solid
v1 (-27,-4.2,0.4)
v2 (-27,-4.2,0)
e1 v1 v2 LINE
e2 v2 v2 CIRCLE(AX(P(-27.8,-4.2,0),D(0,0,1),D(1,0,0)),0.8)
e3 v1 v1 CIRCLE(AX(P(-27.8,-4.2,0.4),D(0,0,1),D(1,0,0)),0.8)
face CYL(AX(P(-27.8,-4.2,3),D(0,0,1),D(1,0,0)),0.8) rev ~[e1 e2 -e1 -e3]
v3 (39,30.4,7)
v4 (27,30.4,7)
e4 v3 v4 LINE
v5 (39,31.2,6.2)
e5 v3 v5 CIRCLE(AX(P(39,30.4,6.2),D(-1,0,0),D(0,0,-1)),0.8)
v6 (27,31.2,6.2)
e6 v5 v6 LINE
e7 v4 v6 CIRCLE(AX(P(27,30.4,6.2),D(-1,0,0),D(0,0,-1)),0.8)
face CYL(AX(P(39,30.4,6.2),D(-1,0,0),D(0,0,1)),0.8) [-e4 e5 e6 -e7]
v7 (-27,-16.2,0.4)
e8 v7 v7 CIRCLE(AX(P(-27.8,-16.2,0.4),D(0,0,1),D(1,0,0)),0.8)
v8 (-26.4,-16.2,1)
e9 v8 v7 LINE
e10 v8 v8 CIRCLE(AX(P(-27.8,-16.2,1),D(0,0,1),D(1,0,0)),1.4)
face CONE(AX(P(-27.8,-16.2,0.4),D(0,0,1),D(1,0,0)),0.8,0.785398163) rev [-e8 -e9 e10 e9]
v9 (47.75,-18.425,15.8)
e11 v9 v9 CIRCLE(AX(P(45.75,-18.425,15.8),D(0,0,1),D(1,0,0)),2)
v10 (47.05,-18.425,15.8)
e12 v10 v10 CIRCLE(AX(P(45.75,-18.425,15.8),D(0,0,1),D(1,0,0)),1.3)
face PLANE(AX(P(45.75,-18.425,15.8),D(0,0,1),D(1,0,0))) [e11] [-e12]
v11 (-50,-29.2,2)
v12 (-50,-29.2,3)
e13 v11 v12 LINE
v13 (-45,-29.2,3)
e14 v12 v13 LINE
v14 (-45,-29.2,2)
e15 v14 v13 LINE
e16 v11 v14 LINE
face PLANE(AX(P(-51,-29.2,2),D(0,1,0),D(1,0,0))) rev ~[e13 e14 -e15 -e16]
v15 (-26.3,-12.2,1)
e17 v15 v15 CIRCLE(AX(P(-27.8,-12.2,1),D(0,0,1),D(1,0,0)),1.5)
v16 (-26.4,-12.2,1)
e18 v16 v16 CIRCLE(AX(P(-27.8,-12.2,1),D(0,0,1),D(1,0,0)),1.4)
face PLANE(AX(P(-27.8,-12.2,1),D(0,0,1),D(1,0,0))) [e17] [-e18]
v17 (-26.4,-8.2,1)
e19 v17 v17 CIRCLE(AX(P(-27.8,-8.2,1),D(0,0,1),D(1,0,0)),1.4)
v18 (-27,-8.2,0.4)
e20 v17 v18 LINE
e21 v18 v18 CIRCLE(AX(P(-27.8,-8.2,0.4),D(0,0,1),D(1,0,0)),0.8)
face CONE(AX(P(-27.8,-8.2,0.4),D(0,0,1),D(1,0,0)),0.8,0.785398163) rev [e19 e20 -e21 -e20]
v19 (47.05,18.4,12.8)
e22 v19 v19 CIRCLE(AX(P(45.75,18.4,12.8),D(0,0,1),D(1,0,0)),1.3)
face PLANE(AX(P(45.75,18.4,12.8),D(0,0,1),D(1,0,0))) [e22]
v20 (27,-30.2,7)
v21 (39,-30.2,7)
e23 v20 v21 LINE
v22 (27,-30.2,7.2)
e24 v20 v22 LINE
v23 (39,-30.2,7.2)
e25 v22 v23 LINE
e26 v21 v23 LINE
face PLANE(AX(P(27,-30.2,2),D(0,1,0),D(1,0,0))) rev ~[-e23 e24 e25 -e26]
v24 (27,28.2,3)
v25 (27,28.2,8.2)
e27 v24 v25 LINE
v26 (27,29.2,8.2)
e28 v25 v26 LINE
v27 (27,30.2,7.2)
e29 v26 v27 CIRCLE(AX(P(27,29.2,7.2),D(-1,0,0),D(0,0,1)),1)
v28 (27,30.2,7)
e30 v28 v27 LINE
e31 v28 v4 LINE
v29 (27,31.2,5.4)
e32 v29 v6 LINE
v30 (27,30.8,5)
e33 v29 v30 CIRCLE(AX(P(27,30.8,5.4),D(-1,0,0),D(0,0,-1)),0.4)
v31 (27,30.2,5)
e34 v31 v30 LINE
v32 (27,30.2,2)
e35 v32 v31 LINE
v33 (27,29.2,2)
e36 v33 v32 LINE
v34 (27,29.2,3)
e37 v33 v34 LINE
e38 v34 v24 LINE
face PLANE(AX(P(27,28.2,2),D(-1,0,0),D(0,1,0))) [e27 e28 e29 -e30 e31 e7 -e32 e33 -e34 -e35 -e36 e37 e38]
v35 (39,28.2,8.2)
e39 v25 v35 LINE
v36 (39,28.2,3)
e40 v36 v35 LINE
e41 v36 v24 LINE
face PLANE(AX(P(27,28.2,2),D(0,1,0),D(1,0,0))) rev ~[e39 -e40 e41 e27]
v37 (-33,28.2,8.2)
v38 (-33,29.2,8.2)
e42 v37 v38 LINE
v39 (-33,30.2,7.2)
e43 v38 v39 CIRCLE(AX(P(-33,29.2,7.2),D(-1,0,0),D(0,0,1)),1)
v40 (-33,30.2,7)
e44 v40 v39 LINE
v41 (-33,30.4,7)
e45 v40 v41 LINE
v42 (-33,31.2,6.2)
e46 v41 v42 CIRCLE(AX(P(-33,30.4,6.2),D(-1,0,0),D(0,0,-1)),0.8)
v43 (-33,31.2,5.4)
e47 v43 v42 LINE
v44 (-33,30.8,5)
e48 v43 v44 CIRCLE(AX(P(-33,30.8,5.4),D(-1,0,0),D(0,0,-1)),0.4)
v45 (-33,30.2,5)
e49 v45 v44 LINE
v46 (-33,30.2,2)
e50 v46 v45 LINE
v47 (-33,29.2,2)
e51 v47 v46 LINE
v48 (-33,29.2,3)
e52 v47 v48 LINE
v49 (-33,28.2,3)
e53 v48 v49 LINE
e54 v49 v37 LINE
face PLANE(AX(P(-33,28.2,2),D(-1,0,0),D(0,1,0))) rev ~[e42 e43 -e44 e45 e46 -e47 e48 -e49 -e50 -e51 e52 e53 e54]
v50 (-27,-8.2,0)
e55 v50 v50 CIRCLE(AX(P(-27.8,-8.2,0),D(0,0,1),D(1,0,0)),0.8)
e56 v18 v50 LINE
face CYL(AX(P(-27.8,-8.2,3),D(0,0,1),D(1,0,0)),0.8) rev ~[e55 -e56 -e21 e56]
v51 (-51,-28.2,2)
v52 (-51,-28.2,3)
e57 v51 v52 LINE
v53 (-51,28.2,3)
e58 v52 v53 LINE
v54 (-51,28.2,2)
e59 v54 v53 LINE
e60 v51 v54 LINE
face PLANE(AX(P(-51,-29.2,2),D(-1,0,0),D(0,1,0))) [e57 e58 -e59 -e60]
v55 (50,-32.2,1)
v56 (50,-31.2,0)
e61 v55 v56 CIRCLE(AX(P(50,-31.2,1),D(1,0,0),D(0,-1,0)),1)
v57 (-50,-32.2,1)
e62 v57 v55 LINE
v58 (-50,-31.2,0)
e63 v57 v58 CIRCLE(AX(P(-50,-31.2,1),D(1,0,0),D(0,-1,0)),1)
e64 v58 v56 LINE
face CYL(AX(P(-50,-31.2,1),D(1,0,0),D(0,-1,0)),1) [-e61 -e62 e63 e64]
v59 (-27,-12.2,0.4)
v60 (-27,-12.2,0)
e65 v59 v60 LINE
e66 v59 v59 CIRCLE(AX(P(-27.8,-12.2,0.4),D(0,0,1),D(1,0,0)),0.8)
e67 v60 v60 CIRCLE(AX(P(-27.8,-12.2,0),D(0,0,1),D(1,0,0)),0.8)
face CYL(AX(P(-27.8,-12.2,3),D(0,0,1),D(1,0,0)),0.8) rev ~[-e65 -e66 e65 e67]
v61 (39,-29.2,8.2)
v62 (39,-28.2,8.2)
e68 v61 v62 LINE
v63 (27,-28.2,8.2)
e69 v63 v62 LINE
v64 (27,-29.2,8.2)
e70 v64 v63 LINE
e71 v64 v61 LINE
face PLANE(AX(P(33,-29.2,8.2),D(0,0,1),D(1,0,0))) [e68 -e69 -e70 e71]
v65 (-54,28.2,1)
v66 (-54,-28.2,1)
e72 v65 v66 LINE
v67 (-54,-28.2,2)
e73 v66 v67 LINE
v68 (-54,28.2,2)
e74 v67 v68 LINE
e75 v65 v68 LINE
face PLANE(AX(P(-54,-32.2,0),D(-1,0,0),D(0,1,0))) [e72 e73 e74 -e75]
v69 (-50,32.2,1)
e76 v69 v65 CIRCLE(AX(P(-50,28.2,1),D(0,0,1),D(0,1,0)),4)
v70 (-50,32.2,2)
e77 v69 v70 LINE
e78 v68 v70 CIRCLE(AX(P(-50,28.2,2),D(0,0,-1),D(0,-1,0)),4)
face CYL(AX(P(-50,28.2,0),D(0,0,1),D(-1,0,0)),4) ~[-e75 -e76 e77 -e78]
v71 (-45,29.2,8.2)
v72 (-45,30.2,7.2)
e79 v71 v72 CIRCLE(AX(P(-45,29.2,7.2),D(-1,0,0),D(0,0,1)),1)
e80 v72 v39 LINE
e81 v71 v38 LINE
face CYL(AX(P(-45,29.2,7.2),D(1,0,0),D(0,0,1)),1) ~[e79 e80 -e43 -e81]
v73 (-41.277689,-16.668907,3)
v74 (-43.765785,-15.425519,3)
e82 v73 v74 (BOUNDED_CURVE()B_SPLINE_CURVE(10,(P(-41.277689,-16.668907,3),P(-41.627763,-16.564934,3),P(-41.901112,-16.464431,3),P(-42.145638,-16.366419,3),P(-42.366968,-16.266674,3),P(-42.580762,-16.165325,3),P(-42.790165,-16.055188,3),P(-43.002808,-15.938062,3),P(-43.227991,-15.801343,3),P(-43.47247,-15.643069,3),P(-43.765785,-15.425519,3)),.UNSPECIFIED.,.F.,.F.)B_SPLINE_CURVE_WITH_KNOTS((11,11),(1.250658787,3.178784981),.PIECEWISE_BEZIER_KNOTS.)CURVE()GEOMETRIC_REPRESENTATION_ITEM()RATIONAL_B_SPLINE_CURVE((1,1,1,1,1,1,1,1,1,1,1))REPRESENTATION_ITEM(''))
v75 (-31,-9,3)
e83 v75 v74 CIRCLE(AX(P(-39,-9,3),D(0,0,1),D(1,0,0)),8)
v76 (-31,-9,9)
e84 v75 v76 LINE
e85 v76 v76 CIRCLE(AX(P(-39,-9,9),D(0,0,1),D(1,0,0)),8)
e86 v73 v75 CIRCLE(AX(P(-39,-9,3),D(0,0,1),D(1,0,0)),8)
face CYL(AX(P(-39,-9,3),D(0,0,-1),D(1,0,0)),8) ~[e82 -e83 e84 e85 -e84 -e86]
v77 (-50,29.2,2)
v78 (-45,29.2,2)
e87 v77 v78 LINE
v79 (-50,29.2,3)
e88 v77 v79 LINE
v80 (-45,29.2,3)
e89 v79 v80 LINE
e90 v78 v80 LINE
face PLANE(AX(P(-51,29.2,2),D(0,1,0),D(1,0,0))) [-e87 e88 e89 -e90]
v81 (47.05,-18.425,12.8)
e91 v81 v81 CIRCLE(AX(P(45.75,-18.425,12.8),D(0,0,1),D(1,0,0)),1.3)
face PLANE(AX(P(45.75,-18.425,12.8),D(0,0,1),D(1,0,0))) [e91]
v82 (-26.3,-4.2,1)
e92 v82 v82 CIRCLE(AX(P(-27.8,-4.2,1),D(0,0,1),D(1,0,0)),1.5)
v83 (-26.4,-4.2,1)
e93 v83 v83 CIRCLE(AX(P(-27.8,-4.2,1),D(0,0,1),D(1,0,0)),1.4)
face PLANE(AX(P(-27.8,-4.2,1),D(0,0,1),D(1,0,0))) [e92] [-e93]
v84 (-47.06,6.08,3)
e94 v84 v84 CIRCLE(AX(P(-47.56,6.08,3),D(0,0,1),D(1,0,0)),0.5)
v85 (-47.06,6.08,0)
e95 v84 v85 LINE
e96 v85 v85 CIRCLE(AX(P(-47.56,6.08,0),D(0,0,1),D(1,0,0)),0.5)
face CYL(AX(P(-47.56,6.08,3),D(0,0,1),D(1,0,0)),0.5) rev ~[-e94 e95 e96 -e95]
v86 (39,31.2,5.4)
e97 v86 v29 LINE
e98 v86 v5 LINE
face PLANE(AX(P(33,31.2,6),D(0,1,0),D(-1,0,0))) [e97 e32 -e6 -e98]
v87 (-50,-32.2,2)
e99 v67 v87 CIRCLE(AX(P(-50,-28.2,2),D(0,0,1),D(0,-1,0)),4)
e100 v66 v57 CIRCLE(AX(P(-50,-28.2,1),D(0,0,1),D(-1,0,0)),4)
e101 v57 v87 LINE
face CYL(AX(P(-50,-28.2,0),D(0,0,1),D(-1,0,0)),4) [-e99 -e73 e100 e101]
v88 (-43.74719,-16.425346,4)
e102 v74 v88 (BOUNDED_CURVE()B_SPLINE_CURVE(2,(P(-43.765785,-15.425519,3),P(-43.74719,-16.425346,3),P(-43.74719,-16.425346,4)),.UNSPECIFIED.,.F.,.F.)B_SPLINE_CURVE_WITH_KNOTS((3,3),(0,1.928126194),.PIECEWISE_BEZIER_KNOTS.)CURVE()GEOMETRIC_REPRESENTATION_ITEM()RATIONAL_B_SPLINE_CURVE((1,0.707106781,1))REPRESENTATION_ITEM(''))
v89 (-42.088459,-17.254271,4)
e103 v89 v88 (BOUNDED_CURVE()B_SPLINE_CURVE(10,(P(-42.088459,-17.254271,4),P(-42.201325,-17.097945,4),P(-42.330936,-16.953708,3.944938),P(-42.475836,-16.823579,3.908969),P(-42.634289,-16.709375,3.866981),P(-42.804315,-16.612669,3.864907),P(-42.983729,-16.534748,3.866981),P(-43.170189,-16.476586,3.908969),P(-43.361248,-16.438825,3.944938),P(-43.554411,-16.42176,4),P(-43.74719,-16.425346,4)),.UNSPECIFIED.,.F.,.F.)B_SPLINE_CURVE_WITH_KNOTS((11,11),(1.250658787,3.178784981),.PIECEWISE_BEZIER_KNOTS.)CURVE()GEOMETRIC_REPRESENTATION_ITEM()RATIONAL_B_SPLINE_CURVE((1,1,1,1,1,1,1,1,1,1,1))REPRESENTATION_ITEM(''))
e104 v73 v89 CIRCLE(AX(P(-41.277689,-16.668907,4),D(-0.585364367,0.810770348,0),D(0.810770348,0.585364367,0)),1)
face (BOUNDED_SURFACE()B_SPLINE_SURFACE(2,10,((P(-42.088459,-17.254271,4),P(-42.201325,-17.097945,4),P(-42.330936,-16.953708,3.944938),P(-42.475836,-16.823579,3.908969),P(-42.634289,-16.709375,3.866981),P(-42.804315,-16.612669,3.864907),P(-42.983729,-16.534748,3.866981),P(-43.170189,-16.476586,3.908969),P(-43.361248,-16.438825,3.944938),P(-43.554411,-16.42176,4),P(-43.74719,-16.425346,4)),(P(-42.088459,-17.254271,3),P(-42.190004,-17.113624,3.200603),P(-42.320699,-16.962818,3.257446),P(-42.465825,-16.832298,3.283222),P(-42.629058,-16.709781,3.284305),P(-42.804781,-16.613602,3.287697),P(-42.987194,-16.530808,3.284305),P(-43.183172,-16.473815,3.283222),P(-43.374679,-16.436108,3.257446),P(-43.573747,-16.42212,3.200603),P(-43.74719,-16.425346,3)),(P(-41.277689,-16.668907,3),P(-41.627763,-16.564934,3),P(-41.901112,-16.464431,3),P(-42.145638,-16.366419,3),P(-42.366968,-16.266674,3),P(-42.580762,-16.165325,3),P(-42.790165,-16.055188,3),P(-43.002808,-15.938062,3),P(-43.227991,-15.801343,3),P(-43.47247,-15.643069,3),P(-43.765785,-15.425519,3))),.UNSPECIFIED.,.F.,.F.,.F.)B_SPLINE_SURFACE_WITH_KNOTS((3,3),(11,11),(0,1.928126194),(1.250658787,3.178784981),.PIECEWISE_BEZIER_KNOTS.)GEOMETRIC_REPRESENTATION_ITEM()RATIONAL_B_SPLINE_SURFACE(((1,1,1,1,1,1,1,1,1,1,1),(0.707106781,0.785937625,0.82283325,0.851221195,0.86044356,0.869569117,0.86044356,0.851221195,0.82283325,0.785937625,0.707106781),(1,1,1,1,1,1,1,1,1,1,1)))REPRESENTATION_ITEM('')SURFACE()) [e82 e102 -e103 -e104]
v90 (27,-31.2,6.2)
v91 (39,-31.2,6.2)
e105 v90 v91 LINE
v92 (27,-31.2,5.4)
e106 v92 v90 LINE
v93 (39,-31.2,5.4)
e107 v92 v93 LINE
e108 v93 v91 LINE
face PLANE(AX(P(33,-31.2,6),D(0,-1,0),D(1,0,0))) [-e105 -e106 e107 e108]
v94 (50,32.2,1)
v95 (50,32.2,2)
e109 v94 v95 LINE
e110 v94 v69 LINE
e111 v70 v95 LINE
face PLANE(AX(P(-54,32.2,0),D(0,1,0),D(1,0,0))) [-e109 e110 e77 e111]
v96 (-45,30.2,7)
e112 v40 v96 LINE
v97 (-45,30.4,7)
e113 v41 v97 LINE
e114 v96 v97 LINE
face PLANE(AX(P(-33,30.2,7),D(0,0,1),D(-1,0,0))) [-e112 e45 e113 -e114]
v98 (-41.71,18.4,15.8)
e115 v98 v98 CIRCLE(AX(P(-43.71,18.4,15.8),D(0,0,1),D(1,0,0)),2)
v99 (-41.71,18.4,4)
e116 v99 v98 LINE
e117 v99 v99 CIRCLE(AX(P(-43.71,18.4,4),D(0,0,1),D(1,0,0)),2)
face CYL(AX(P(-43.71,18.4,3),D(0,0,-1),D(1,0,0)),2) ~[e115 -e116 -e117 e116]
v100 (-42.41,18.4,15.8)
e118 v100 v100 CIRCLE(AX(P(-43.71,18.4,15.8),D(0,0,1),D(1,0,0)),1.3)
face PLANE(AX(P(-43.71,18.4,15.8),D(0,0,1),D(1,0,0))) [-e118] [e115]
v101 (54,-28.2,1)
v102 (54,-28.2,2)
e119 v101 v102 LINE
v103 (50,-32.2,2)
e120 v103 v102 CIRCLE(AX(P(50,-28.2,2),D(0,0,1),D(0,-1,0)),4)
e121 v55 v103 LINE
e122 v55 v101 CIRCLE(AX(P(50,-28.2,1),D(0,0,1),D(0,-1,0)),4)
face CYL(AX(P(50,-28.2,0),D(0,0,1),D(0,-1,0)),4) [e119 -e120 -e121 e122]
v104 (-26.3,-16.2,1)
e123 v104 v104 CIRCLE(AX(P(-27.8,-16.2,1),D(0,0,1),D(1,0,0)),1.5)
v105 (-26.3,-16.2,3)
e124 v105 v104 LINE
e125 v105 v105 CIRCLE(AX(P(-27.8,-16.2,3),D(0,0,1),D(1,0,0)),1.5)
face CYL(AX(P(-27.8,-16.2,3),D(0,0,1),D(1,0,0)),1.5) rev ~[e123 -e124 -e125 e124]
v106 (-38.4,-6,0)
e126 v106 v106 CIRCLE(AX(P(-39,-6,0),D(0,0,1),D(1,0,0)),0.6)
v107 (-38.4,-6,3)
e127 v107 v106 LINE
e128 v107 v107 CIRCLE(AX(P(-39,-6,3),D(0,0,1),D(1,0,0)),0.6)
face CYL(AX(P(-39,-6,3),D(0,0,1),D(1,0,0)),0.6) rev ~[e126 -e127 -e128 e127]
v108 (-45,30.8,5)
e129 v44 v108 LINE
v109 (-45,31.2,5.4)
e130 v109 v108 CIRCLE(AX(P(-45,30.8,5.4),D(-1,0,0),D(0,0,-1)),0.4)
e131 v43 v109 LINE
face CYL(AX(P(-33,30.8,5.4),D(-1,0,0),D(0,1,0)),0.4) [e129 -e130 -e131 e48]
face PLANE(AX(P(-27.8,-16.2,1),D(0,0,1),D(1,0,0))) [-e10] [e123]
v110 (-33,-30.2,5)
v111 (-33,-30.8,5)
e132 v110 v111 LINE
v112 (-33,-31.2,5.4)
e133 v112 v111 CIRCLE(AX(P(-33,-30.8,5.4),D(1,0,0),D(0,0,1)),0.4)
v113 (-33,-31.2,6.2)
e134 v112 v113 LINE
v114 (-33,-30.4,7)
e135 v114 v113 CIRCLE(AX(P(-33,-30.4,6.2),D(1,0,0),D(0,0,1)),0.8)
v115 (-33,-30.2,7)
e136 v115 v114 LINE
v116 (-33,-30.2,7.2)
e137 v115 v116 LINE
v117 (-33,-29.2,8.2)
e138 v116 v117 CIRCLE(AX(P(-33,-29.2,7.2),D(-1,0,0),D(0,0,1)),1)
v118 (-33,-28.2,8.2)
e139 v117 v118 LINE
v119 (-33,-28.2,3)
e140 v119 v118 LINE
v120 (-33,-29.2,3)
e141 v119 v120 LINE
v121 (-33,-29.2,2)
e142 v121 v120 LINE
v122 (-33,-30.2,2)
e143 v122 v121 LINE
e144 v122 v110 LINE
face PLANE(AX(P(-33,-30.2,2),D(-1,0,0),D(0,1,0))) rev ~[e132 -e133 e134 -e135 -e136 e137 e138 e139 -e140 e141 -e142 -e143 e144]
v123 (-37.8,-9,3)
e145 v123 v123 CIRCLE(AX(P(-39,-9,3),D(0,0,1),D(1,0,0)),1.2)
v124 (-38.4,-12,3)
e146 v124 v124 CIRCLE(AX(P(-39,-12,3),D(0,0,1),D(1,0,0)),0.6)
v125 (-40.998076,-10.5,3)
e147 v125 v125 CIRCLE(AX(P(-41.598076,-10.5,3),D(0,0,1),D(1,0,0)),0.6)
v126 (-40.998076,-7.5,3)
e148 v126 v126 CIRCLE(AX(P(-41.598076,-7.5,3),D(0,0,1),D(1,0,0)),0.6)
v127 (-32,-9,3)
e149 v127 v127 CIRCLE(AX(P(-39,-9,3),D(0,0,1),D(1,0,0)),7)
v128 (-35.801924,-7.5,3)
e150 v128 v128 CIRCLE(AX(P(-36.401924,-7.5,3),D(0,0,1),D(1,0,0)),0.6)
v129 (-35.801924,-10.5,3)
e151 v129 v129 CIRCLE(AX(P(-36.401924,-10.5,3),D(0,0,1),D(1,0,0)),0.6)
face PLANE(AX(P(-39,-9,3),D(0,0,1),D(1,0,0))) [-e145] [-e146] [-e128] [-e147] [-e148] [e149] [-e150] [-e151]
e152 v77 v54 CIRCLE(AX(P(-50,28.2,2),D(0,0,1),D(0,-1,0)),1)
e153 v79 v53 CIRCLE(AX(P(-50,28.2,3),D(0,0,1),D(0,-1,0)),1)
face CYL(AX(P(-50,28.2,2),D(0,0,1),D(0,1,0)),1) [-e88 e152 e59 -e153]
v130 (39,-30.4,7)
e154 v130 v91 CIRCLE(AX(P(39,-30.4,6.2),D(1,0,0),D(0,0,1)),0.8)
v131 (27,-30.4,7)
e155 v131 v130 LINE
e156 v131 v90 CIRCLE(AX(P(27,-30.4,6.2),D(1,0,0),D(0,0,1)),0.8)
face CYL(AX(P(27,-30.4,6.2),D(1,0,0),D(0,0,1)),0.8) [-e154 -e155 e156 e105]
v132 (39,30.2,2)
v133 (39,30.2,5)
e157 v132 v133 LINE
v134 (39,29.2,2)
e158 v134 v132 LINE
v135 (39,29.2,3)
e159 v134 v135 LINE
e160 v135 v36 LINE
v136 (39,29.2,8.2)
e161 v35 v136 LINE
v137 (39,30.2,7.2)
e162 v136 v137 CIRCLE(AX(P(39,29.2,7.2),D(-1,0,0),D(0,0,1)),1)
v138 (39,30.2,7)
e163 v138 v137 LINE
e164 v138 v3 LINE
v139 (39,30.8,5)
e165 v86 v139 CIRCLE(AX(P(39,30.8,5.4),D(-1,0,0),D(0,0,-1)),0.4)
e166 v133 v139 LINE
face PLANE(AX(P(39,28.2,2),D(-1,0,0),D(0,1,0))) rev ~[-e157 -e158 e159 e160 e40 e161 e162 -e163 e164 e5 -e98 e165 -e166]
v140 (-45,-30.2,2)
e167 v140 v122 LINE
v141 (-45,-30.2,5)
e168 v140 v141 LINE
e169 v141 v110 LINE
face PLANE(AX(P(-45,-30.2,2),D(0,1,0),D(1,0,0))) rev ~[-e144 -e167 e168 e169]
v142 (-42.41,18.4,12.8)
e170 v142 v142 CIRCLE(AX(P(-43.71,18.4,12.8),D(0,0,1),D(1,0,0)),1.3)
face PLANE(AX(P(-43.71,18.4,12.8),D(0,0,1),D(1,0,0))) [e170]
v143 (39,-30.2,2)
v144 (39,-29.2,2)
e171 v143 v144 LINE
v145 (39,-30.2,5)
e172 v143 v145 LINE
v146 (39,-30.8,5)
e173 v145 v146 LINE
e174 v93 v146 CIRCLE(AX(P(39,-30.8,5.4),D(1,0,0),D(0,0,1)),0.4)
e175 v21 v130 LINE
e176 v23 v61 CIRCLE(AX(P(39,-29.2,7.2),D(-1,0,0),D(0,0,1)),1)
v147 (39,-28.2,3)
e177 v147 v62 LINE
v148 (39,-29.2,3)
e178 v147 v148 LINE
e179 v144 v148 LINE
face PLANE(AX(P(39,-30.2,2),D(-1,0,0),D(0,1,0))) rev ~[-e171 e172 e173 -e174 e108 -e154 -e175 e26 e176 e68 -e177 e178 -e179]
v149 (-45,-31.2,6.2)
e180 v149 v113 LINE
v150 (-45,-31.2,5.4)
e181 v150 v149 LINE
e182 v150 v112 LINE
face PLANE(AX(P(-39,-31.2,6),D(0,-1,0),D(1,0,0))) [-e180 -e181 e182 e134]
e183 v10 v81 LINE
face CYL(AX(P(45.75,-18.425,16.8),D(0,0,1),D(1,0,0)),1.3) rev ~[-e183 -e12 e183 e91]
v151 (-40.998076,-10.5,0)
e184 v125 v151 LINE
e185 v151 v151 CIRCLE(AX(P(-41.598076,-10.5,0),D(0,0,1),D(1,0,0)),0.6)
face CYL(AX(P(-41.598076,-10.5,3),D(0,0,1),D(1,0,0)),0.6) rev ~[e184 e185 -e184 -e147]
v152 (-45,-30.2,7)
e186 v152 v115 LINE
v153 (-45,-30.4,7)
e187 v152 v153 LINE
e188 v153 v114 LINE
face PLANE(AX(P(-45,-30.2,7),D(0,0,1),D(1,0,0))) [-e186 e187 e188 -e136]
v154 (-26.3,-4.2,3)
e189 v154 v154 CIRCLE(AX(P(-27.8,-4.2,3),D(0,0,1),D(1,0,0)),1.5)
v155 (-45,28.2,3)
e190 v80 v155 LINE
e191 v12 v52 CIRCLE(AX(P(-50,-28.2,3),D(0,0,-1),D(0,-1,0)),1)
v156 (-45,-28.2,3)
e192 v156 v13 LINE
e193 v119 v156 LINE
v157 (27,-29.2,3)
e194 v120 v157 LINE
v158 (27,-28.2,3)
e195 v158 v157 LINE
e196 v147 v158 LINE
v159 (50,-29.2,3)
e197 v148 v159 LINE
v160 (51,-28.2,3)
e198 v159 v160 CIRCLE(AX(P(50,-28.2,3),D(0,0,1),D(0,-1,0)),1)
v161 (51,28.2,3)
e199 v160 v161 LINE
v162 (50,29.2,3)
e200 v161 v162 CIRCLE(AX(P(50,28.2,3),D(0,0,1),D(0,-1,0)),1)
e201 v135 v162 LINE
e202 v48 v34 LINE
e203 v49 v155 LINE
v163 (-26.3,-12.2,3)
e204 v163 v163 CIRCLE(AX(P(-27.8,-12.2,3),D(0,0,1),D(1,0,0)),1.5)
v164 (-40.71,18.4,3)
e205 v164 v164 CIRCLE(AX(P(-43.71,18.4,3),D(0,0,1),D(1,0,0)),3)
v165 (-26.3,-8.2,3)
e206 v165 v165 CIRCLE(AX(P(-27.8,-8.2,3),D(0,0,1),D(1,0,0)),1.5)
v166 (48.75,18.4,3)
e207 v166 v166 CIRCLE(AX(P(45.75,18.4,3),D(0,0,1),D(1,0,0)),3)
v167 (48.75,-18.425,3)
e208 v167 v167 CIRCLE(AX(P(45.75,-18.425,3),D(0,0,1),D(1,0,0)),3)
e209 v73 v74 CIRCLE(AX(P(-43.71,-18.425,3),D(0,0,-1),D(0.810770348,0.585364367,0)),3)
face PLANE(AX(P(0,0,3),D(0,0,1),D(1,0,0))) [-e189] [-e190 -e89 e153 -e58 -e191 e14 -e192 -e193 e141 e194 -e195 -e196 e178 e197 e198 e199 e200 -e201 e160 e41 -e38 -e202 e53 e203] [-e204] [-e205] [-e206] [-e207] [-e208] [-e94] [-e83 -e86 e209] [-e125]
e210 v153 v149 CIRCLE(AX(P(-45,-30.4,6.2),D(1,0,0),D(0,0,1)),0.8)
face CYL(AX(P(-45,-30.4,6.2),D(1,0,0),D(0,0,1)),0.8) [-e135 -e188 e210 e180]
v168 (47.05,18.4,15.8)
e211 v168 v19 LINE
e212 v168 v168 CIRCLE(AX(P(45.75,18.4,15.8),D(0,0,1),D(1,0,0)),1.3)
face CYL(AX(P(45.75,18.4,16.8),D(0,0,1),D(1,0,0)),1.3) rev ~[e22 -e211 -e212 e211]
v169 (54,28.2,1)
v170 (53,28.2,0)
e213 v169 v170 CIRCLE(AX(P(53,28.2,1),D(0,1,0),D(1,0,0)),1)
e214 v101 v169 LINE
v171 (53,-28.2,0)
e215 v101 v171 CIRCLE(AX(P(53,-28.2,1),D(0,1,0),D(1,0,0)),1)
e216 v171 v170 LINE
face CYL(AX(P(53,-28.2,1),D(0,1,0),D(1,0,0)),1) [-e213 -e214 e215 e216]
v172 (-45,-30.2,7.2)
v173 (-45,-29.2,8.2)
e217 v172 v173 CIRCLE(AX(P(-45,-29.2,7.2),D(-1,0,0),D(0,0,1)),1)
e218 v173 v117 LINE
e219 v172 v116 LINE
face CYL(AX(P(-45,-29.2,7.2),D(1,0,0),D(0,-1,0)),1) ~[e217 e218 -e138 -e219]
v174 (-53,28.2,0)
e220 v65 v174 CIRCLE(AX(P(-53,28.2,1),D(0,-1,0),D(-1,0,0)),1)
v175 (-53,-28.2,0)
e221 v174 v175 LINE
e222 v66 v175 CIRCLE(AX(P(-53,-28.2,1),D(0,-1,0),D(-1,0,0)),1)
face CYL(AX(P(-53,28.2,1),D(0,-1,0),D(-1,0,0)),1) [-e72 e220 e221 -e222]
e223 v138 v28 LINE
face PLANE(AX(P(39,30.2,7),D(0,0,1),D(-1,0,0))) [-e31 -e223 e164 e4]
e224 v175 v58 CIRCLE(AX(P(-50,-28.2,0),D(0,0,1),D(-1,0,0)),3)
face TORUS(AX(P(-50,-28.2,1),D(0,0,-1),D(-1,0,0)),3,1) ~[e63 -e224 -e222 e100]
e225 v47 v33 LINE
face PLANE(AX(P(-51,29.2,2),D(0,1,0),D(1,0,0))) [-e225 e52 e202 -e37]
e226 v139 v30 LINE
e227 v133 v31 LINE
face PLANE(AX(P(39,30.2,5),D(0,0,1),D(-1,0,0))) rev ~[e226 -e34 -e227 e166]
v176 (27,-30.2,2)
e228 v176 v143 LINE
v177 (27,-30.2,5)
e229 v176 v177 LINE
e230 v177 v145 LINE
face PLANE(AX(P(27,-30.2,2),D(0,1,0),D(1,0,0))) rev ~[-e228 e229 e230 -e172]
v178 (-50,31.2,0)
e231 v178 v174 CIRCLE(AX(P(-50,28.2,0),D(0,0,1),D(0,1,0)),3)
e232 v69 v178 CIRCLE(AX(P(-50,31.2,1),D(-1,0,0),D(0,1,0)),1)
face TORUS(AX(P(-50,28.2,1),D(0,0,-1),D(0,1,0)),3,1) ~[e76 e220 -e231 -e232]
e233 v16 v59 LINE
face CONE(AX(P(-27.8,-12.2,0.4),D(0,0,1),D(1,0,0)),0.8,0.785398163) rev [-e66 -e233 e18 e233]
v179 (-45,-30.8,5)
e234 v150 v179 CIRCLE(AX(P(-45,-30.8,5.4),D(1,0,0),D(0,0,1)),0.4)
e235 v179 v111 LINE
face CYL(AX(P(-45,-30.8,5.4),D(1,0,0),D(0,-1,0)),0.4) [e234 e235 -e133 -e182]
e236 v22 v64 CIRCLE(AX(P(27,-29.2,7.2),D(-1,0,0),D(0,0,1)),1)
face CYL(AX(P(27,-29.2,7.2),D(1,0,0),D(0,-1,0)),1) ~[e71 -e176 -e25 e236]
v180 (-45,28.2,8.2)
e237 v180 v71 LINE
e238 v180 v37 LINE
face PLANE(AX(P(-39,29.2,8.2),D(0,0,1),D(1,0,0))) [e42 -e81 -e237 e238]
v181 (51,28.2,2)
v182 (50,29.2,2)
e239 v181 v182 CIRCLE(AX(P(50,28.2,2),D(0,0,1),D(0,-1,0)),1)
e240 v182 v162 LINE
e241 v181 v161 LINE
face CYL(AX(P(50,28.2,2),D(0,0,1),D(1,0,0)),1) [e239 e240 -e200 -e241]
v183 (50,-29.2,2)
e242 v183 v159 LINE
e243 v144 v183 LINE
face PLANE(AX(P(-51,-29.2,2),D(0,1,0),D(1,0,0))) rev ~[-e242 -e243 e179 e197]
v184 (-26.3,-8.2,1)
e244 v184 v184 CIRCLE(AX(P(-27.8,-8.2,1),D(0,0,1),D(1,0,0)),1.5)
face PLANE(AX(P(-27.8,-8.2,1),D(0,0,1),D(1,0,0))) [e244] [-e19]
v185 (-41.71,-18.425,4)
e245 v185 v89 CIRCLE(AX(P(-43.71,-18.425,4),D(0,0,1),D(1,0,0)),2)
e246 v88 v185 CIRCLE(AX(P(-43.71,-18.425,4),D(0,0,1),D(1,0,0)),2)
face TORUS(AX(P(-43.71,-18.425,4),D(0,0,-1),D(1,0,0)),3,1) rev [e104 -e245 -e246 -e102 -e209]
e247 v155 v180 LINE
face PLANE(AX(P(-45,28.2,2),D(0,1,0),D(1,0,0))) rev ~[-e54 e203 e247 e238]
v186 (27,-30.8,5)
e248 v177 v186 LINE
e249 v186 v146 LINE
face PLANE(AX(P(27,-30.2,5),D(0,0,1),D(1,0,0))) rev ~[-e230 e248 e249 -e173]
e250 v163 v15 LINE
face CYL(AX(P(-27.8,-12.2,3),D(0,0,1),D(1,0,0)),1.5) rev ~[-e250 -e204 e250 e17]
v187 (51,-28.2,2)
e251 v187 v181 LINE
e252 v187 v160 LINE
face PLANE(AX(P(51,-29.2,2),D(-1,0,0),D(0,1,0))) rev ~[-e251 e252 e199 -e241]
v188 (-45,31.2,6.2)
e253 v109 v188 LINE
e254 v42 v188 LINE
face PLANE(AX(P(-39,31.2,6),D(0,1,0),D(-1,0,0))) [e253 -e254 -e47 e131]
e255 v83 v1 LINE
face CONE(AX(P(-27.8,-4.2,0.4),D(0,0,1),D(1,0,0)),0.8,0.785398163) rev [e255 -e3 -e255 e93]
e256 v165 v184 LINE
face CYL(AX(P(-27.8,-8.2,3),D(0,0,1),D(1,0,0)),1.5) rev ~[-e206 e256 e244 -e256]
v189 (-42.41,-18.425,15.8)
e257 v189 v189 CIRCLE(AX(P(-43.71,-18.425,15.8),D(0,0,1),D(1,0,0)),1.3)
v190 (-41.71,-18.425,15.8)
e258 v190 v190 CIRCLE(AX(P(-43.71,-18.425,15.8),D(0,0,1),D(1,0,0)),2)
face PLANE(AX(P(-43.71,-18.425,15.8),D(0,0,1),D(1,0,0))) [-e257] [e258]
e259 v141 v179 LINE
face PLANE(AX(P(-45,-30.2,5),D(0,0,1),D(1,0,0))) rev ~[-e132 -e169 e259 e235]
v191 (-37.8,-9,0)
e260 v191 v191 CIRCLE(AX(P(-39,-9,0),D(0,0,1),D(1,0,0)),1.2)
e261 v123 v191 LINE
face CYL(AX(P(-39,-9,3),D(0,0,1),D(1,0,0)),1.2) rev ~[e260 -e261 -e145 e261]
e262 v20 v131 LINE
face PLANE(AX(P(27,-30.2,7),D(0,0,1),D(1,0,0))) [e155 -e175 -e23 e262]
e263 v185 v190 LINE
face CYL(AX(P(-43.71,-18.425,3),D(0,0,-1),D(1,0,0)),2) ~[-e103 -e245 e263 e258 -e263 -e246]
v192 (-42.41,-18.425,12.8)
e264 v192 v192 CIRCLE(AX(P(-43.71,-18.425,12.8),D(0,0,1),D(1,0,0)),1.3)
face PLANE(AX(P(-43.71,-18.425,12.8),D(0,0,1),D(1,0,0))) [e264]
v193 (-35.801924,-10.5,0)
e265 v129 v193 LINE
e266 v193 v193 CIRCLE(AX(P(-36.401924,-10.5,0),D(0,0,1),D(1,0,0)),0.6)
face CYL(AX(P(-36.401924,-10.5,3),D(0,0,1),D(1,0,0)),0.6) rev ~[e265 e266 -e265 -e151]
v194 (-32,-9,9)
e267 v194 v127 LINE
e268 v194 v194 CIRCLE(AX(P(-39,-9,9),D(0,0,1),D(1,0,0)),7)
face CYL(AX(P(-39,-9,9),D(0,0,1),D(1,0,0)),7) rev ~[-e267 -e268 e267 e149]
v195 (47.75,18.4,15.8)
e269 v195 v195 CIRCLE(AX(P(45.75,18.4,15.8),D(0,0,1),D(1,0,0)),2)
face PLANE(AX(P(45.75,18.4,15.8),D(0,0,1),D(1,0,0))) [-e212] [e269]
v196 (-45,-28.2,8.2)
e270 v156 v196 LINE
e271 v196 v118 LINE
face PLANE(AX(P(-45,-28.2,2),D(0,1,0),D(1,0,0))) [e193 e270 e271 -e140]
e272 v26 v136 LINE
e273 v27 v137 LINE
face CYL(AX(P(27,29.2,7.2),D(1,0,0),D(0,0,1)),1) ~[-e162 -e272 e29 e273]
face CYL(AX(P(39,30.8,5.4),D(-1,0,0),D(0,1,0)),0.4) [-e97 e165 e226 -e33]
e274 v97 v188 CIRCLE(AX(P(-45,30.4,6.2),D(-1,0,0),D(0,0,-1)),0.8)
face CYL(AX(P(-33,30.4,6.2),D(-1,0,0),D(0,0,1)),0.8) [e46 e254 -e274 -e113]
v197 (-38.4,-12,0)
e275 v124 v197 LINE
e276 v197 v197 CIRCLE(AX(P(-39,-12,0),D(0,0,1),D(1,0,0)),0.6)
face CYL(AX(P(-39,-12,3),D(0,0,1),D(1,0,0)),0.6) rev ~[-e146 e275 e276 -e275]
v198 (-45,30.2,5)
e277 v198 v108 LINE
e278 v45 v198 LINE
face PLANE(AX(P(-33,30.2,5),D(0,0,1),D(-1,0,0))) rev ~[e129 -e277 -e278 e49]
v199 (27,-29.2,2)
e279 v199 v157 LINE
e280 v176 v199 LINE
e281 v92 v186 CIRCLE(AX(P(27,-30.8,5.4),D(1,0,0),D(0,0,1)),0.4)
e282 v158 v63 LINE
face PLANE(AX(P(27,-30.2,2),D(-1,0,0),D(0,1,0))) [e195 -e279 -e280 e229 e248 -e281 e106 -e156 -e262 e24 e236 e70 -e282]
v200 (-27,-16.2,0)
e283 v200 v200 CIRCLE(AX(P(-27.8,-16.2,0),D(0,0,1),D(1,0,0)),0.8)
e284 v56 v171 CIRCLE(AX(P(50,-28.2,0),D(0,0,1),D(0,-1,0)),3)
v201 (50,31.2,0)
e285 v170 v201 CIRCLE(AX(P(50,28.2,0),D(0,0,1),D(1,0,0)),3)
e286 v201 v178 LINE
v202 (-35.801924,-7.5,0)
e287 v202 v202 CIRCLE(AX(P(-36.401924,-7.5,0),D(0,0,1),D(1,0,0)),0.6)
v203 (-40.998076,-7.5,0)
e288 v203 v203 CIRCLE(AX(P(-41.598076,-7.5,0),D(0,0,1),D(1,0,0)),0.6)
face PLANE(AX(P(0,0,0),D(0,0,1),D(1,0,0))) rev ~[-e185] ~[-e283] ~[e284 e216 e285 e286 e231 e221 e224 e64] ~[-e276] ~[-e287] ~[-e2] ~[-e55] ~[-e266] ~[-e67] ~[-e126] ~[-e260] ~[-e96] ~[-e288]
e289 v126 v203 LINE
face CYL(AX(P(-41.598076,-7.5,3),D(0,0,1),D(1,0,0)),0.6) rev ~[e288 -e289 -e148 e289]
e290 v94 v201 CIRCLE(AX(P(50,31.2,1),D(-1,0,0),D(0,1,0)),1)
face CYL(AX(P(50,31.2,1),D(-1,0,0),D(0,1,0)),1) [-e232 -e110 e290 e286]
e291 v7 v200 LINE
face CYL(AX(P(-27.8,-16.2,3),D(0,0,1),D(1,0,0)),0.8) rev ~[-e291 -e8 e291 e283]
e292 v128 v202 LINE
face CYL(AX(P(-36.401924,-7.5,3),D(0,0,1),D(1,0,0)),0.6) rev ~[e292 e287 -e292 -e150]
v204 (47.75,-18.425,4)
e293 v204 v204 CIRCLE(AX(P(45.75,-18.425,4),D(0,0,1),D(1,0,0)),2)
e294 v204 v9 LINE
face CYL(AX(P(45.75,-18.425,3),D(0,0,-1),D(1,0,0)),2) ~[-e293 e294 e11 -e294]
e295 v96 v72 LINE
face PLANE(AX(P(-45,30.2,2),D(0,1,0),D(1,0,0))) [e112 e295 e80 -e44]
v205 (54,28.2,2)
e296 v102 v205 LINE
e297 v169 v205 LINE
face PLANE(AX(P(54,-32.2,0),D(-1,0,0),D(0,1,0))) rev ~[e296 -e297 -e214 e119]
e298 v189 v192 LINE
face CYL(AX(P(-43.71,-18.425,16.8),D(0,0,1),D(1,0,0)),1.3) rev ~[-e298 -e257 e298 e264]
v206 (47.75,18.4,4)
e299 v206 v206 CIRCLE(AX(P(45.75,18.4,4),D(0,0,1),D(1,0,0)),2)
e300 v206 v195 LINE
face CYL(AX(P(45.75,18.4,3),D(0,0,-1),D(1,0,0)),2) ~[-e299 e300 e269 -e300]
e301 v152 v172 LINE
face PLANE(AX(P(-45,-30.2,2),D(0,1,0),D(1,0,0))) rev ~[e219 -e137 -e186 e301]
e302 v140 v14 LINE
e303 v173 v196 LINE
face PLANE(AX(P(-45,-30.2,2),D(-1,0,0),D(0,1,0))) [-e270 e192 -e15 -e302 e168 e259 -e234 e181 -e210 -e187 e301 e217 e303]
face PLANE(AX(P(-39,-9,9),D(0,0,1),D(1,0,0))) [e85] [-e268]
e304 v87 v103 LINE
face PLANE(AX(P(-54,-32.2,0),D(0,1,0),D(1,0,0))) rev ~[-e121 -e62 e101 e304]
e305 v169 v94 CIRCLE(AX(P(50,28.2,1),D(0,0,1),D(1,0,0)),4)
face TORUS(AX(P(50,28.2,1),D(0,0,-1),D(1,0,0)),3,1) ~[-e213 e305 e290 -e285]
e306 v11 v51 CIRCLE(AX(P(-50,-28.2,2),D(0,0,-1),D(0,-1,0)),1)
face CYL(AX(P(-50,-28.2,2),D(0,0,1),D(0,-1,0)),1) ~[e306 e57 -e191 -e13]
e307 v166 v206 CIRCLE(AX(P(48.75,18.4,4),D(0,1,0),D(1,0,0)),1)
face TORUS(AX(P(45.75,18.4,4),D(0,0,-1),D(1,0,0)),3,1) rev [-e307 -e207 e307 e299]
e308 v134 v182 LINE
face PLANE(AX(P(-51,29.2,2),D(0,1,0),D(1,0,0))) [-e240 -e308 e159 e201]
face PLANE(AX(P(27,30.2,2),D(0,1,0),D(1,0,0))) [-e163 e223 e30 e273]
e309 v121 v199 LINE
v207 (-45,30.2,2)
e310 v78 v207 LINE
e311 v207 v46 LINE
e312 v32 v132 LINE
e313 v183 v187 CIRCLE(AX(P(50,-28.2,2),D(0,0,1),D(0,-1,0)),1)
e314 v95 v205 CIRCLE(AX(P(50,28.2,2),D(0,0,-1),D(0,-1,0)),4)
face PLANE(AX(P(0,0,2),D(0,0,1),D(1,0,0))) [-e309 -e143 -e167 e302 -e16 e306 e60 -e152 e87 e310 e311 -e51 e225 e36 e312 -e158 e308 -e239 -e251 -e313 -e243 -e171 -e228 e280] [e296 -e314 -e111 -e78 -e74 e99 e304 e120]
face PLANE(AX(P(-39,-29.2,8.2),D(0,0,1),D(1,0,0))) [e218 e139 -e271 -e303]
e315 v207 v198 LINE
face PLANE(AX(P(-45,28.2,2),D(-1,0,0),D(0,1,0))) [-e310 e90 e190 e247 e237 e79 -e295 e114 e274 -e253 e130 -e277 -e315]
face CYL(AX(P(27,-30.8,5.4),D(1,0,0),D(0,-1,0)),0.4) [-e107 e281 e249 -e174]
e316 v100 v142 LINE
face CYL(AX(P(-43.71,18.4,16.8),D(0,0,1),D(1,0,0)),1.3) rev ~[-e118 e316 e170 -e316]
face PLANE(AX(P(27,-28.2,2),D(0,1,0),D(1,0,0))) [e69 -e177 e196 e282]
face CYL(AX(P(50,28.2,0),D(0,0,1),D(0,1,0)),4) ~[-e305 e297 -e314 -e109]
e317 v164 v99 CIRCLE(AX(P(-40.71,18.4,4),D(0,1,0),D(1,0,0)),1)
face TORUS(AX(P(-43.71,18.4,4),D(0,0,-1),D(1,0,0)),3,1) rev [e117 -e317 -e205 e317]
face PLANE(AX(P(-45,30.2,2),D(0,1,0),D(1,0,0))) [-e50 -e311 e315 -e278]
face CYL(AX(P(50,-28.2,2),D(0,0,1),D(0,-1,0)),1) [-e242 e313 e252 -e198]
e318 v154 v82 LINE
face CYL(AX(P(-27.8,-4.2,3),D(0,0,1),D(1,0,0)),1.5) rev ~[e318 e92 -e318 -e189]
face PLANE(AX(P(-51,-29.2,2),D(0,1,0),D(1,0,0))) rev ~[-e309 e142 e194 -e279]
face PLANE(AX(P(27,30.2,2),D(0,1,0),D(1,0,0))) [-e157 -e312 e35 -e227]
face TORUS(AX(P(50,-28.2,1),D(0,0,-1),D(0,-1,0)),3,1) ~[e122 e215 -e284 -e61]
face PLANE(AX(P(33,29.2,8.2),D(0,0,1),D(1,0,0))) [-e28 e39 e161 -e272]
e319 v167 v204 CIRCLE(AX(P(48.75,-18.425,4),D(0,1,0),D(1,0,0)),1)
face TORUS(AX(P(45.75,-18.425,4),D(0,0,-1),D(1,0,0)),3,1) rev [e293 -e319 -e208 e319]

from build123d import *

# Parameters (mm, degrees)
SKETCH_W        = 108
SKETCH_H        = 64.4
PAD_DEPTH       = 2
SKETCH001_W     = 102
SKETCH001_H     = 58.4
PAD001_DEPTH    = 1
SKETCH002_R     = 2
PAD002_DEPTH    = 12.8
SKETCH003_R     = 1.3
POCKET_DEPTH    = 4
SKETCH004_W     = 12
SKETCH004_H     = 2
PAD003_DEPTH    = 6.2
SKETCH005_W     = 12
SKETCH005_H     = 2
PAD004_DEPTH    = 1
SKETCH006_W     = 12
SKETCH006_H     = 2
PAD005_DEPTH    = 1
FILLET_R        = 4
FILLET001_R     = 1
FILLET002_R     = 1
FILLET003_R     = 0.8
FILLET004_R     = 0.4
FILLET005_R     = 1
SKETCH007_R     = 1.2
SKETCH007_R_2   = 0.8
SKETCH007_R_3   = 0.5
SKETCH007_R_4   = 0.6
POCKET001_DEPTH = 3.001
SKETCH011_R     = 8
PAD006_DEPTH    = 6
SKETCH009_R     = 7
POCKET002_DEPTH = 6
SKETCH010_R     = 1.5
POCKET003_DEPTH = 2
CHAMFER_SIZE    = 0.6
FILLET006_R     = 1


with BuildPart() as part:
    # Sketch → Pad (new body)
    with BuildSketch(Plane.XY):
        Rectangle(SKETCH_W, SKETCH_H)
    extrude(amount=PAD_DEPTH)

    # Sketch001 (on Face6 of Pad) → Pad001 (join)
    with BuildSketch(Plane.XY.offset(2)):
        Rectangle(SKETCH001_W, SKETCH001_H)
    extrude(amount=PAD001_DEPTH)

    # Sketch002 (on Face11 of Pad001) → Pad002 (join)
    with BuildSketch(Plane.XY.offset(3)):
        with Locations((-43.71, 18.4)):
            Circle(SKETCH002_R)
        with Locations((45.75, 18.4)):
            Circle(SKETCH002_R)
        with Locations((-43.71, -18.425)):
            Circle(SKETCH002_R)
        with Locations((45.75, -18.425)):
            Circle(SKETCH002_R)
    extrude(amount=PAD002_DEPTH)

    # Sketch003 → Pocket (cut)
    with BuildSketch(Plane.XY.offset(16.8)):
        with Locations((-43.71, 18.4)):
            Circle(SKETCH003_R)
        with Locations((45.75, 18.4)):
            Circle(SKETCH003_R)
        with Locations((45.75, -18.425)):
            Circle(SKETCH003_R)
        with Locations((-43.71, -18.425)):
            Circle(SKETCH003_R)
    extrude(amount=-POCKET_DEPTH, mode=Mode.SUBTRACT)

    # Sketch004 (on Face11 of Pocket) → Pad003 (join)
    with BuildSketch(Plane.XY.offset(2)):
        with Locations((-39, 29.2)):
            Rectangle(SKETCH004_W, SKETCH004_H)
        with Locations((33, 29.2)):
            Rectangle(SKETCH004_W, SKETCH004_H)
        with Locations((-39, -29.2)):
            Rectangle(SKETCH004_W, SKETCH004_H)
        with Locations((33, -29.2)):
            Rectangle(SKETCH004_W, SKETCH004_H)
    extrude(amount=PAD003_DEPTH)

    # Sketch005 (on Face19 of Pad003) → Pad004 (join)
    with BuildSketch(Plane.XZ.offset(30.2)):
        with Locations((33, 6)):
            Rectangle(SKETCH005_W, SKETCH005_H)
        with Locations((-39, 6)):
            Rectangle(SKETCH005_W, SKETCH005_H)
    extrude(amount=PAD004_DEPTH)

    # Sketch006 → Pad005 (join)
    with BuildSketch(Plane(origin=(0, 30.2, 0), x_dir=(-1, 0, 0), z_dir=(0, 1, 0))):
        with Locations((-33, 6)):
            Rectangle(SKETCH006_W, SKETCH006_H)
        with Locations((39, 6)):
            Rectangle(SKETCH006_W, SKETCH006_H)
    extrude(amount=PAD005_DEPTH)

    # Fillet
    fillet_edges = [part.edges().sort_by_distance(p)[0] for p in [
        (-54, 32.2, 1),
        (54, 32.2, 1),
        (-54, -32.2, 1),
        (54, -32.2, 1),
    ]]
    fillet(fillet_edges, radius=FILLET_R)

    # Fillet001
    fillet001_edges = [part.edges().sort_by_distance(p)[0] for p in [
        (-51, 29.2, 2.5),
        (-51, -29.2, 2.5),
        (51, -29.2, 2.5),
        (51, 29.2, 2.5),
    ]]
    fillet(fillet001_edges, radius=FILLET001_R)

    # Fillet002
    fillet002_edges = [part.edges().sort_by_distance(p)[0] for p in [
        (-39, -30.2, 8.2),
        (33, -30.2, 8.2),
        (33, 30.2, 8.2),
        (-39, 30.2, 8.2),
    ]]
    fillet(fillet002_edges, radius=FILLET002_R)

    # Fillet003
    fillet003_edges = [part.edges().sort_by_distance(p)[0] for p in [
        (-39, 31.2, 7),
        (33, 31.2, 7),
        (-39, -31.2, 7),
        (33, -31.2, 7),
    ]]
    fillet(fillet003_edges, radius=FILLET003_R)

    # Fillet004
    fillet004_edges = [part.edges().sort_by_distance(p)[0] for p in [
        (33, -31.2, 5),
        (-39, -31.2, 5),
        (-39, 31.2, 5),
        (33, 31.2, 5),
    ]]
    fillet(fillet004_edges, radius=FILLET004_R)

    # Fillet005
    fillet005_edges = [part.edges().sort_by_distance(p)[0] for p in [
        (0, -32.2, 0),
    ]]
    fillet(fillet005_edges, radius=FILLET005_R)

    # Sketch007 (on Face43 of Fillet005) → Pocket001 (cut, through all)
    with BuildSketch(Plane.XY.offset(3)):
        with Locations((-39, -9)):
            Circle(SKETCH007_R)
        with Locations((-27.8, -4.2)):
            Circle(SKETCH007_R_2)
        with Locations((-27.8, -8.2)):
            Circle(SKETCH007_R_2)
        with Locations((-27.8, -12.2)):
            Circle(SKETCH007_R_2)
        with Locations((-27.8, -16.2)):
            Circle(SKETCH007_R_2)
        with Locations((-47.56, 6.08)):
            Circle(SKETCH007_R_3)
        with Locations((-41.598076, -7.5)):
            Circle(SKETCH007_R_4)
        with Locations((-39, -6)):
            Circle(SKETCH007_R_4)
        with Locations((-36.401924, -10.5)):
            Circle(SKETCH007_R_4)
        with Locations((-41.598076, -10.5)):
            Circle(SKETCH007_R_4)
        with Locations((-39, -12)):
            Circle(SKETCH007_R_4)
        with Locations((-36.401924, -7.5)):
            Circle(SKETCH007_R_4)
    extrude(amount=-POCKET001_DEPTH, mode=Mode.SUBTRACT)

    # Sketch011 (on Face55 of Pocket001) → Pad006 (join)
    with BuildSketch(Plane.XY.offset(3)):
        with Locations((-39, -9)):
            Circle(SKETCH011_R)
    extrude(amount=PAD006_DEPTH)

    # Sketch009 → Pocket002 (cut)
    with BuildSketch(Plane.XY.offset(9)):
        with Locations((-39, -9)):
            Circle(SKETCH009_R)
    extrude(amount=-POCKET002_DEPTH, mode=Mode.SUBTRACT)

    # Sketch010 → Pocket003 (cut)
    with BuildSketch(Plane.XY.offset(3)):
        with Locations((-27.8, -4.2)):
            Circle(SKETCH010_R)
        with Locations((-27.8, -8.2)):
            Circle(SKETCH010_R)
        with Locations((-27.8, -12.2)):
            Circle(SKETCH010_R)
        with Locations((-27.8, -16.2)):
            Circle(SKETCH010_R)
    extrude(amount=-POCKET003_DEPTH, mode=Mode.SUBTRACT)

    # Chamfer
    chamfer_edges = [part.edges().sort_by_distance(p)[0] for p in [
        (-28.6, -16.2, 1),
        (-28.6, -12.2, 1),
        (-28.6, -8.2, 1),
        (-28.6, -4.2, 1),
    ]]
    chamfer(chamfer_edges, length=CHAMFER_SIZE)

    # Fillet006
    fillet006_edges = [part.edges().sort_by_distance(p)[0] for p in [
        (-45.71, -18.425, 3),
        (-45.71, 18.4, 3),
        (43.75, 18.4, 3),
        (43.75, -18.425, 3),
    ]]
    fillet(fillet006_edges, radius=FILLET006_R)


solid = part.part
